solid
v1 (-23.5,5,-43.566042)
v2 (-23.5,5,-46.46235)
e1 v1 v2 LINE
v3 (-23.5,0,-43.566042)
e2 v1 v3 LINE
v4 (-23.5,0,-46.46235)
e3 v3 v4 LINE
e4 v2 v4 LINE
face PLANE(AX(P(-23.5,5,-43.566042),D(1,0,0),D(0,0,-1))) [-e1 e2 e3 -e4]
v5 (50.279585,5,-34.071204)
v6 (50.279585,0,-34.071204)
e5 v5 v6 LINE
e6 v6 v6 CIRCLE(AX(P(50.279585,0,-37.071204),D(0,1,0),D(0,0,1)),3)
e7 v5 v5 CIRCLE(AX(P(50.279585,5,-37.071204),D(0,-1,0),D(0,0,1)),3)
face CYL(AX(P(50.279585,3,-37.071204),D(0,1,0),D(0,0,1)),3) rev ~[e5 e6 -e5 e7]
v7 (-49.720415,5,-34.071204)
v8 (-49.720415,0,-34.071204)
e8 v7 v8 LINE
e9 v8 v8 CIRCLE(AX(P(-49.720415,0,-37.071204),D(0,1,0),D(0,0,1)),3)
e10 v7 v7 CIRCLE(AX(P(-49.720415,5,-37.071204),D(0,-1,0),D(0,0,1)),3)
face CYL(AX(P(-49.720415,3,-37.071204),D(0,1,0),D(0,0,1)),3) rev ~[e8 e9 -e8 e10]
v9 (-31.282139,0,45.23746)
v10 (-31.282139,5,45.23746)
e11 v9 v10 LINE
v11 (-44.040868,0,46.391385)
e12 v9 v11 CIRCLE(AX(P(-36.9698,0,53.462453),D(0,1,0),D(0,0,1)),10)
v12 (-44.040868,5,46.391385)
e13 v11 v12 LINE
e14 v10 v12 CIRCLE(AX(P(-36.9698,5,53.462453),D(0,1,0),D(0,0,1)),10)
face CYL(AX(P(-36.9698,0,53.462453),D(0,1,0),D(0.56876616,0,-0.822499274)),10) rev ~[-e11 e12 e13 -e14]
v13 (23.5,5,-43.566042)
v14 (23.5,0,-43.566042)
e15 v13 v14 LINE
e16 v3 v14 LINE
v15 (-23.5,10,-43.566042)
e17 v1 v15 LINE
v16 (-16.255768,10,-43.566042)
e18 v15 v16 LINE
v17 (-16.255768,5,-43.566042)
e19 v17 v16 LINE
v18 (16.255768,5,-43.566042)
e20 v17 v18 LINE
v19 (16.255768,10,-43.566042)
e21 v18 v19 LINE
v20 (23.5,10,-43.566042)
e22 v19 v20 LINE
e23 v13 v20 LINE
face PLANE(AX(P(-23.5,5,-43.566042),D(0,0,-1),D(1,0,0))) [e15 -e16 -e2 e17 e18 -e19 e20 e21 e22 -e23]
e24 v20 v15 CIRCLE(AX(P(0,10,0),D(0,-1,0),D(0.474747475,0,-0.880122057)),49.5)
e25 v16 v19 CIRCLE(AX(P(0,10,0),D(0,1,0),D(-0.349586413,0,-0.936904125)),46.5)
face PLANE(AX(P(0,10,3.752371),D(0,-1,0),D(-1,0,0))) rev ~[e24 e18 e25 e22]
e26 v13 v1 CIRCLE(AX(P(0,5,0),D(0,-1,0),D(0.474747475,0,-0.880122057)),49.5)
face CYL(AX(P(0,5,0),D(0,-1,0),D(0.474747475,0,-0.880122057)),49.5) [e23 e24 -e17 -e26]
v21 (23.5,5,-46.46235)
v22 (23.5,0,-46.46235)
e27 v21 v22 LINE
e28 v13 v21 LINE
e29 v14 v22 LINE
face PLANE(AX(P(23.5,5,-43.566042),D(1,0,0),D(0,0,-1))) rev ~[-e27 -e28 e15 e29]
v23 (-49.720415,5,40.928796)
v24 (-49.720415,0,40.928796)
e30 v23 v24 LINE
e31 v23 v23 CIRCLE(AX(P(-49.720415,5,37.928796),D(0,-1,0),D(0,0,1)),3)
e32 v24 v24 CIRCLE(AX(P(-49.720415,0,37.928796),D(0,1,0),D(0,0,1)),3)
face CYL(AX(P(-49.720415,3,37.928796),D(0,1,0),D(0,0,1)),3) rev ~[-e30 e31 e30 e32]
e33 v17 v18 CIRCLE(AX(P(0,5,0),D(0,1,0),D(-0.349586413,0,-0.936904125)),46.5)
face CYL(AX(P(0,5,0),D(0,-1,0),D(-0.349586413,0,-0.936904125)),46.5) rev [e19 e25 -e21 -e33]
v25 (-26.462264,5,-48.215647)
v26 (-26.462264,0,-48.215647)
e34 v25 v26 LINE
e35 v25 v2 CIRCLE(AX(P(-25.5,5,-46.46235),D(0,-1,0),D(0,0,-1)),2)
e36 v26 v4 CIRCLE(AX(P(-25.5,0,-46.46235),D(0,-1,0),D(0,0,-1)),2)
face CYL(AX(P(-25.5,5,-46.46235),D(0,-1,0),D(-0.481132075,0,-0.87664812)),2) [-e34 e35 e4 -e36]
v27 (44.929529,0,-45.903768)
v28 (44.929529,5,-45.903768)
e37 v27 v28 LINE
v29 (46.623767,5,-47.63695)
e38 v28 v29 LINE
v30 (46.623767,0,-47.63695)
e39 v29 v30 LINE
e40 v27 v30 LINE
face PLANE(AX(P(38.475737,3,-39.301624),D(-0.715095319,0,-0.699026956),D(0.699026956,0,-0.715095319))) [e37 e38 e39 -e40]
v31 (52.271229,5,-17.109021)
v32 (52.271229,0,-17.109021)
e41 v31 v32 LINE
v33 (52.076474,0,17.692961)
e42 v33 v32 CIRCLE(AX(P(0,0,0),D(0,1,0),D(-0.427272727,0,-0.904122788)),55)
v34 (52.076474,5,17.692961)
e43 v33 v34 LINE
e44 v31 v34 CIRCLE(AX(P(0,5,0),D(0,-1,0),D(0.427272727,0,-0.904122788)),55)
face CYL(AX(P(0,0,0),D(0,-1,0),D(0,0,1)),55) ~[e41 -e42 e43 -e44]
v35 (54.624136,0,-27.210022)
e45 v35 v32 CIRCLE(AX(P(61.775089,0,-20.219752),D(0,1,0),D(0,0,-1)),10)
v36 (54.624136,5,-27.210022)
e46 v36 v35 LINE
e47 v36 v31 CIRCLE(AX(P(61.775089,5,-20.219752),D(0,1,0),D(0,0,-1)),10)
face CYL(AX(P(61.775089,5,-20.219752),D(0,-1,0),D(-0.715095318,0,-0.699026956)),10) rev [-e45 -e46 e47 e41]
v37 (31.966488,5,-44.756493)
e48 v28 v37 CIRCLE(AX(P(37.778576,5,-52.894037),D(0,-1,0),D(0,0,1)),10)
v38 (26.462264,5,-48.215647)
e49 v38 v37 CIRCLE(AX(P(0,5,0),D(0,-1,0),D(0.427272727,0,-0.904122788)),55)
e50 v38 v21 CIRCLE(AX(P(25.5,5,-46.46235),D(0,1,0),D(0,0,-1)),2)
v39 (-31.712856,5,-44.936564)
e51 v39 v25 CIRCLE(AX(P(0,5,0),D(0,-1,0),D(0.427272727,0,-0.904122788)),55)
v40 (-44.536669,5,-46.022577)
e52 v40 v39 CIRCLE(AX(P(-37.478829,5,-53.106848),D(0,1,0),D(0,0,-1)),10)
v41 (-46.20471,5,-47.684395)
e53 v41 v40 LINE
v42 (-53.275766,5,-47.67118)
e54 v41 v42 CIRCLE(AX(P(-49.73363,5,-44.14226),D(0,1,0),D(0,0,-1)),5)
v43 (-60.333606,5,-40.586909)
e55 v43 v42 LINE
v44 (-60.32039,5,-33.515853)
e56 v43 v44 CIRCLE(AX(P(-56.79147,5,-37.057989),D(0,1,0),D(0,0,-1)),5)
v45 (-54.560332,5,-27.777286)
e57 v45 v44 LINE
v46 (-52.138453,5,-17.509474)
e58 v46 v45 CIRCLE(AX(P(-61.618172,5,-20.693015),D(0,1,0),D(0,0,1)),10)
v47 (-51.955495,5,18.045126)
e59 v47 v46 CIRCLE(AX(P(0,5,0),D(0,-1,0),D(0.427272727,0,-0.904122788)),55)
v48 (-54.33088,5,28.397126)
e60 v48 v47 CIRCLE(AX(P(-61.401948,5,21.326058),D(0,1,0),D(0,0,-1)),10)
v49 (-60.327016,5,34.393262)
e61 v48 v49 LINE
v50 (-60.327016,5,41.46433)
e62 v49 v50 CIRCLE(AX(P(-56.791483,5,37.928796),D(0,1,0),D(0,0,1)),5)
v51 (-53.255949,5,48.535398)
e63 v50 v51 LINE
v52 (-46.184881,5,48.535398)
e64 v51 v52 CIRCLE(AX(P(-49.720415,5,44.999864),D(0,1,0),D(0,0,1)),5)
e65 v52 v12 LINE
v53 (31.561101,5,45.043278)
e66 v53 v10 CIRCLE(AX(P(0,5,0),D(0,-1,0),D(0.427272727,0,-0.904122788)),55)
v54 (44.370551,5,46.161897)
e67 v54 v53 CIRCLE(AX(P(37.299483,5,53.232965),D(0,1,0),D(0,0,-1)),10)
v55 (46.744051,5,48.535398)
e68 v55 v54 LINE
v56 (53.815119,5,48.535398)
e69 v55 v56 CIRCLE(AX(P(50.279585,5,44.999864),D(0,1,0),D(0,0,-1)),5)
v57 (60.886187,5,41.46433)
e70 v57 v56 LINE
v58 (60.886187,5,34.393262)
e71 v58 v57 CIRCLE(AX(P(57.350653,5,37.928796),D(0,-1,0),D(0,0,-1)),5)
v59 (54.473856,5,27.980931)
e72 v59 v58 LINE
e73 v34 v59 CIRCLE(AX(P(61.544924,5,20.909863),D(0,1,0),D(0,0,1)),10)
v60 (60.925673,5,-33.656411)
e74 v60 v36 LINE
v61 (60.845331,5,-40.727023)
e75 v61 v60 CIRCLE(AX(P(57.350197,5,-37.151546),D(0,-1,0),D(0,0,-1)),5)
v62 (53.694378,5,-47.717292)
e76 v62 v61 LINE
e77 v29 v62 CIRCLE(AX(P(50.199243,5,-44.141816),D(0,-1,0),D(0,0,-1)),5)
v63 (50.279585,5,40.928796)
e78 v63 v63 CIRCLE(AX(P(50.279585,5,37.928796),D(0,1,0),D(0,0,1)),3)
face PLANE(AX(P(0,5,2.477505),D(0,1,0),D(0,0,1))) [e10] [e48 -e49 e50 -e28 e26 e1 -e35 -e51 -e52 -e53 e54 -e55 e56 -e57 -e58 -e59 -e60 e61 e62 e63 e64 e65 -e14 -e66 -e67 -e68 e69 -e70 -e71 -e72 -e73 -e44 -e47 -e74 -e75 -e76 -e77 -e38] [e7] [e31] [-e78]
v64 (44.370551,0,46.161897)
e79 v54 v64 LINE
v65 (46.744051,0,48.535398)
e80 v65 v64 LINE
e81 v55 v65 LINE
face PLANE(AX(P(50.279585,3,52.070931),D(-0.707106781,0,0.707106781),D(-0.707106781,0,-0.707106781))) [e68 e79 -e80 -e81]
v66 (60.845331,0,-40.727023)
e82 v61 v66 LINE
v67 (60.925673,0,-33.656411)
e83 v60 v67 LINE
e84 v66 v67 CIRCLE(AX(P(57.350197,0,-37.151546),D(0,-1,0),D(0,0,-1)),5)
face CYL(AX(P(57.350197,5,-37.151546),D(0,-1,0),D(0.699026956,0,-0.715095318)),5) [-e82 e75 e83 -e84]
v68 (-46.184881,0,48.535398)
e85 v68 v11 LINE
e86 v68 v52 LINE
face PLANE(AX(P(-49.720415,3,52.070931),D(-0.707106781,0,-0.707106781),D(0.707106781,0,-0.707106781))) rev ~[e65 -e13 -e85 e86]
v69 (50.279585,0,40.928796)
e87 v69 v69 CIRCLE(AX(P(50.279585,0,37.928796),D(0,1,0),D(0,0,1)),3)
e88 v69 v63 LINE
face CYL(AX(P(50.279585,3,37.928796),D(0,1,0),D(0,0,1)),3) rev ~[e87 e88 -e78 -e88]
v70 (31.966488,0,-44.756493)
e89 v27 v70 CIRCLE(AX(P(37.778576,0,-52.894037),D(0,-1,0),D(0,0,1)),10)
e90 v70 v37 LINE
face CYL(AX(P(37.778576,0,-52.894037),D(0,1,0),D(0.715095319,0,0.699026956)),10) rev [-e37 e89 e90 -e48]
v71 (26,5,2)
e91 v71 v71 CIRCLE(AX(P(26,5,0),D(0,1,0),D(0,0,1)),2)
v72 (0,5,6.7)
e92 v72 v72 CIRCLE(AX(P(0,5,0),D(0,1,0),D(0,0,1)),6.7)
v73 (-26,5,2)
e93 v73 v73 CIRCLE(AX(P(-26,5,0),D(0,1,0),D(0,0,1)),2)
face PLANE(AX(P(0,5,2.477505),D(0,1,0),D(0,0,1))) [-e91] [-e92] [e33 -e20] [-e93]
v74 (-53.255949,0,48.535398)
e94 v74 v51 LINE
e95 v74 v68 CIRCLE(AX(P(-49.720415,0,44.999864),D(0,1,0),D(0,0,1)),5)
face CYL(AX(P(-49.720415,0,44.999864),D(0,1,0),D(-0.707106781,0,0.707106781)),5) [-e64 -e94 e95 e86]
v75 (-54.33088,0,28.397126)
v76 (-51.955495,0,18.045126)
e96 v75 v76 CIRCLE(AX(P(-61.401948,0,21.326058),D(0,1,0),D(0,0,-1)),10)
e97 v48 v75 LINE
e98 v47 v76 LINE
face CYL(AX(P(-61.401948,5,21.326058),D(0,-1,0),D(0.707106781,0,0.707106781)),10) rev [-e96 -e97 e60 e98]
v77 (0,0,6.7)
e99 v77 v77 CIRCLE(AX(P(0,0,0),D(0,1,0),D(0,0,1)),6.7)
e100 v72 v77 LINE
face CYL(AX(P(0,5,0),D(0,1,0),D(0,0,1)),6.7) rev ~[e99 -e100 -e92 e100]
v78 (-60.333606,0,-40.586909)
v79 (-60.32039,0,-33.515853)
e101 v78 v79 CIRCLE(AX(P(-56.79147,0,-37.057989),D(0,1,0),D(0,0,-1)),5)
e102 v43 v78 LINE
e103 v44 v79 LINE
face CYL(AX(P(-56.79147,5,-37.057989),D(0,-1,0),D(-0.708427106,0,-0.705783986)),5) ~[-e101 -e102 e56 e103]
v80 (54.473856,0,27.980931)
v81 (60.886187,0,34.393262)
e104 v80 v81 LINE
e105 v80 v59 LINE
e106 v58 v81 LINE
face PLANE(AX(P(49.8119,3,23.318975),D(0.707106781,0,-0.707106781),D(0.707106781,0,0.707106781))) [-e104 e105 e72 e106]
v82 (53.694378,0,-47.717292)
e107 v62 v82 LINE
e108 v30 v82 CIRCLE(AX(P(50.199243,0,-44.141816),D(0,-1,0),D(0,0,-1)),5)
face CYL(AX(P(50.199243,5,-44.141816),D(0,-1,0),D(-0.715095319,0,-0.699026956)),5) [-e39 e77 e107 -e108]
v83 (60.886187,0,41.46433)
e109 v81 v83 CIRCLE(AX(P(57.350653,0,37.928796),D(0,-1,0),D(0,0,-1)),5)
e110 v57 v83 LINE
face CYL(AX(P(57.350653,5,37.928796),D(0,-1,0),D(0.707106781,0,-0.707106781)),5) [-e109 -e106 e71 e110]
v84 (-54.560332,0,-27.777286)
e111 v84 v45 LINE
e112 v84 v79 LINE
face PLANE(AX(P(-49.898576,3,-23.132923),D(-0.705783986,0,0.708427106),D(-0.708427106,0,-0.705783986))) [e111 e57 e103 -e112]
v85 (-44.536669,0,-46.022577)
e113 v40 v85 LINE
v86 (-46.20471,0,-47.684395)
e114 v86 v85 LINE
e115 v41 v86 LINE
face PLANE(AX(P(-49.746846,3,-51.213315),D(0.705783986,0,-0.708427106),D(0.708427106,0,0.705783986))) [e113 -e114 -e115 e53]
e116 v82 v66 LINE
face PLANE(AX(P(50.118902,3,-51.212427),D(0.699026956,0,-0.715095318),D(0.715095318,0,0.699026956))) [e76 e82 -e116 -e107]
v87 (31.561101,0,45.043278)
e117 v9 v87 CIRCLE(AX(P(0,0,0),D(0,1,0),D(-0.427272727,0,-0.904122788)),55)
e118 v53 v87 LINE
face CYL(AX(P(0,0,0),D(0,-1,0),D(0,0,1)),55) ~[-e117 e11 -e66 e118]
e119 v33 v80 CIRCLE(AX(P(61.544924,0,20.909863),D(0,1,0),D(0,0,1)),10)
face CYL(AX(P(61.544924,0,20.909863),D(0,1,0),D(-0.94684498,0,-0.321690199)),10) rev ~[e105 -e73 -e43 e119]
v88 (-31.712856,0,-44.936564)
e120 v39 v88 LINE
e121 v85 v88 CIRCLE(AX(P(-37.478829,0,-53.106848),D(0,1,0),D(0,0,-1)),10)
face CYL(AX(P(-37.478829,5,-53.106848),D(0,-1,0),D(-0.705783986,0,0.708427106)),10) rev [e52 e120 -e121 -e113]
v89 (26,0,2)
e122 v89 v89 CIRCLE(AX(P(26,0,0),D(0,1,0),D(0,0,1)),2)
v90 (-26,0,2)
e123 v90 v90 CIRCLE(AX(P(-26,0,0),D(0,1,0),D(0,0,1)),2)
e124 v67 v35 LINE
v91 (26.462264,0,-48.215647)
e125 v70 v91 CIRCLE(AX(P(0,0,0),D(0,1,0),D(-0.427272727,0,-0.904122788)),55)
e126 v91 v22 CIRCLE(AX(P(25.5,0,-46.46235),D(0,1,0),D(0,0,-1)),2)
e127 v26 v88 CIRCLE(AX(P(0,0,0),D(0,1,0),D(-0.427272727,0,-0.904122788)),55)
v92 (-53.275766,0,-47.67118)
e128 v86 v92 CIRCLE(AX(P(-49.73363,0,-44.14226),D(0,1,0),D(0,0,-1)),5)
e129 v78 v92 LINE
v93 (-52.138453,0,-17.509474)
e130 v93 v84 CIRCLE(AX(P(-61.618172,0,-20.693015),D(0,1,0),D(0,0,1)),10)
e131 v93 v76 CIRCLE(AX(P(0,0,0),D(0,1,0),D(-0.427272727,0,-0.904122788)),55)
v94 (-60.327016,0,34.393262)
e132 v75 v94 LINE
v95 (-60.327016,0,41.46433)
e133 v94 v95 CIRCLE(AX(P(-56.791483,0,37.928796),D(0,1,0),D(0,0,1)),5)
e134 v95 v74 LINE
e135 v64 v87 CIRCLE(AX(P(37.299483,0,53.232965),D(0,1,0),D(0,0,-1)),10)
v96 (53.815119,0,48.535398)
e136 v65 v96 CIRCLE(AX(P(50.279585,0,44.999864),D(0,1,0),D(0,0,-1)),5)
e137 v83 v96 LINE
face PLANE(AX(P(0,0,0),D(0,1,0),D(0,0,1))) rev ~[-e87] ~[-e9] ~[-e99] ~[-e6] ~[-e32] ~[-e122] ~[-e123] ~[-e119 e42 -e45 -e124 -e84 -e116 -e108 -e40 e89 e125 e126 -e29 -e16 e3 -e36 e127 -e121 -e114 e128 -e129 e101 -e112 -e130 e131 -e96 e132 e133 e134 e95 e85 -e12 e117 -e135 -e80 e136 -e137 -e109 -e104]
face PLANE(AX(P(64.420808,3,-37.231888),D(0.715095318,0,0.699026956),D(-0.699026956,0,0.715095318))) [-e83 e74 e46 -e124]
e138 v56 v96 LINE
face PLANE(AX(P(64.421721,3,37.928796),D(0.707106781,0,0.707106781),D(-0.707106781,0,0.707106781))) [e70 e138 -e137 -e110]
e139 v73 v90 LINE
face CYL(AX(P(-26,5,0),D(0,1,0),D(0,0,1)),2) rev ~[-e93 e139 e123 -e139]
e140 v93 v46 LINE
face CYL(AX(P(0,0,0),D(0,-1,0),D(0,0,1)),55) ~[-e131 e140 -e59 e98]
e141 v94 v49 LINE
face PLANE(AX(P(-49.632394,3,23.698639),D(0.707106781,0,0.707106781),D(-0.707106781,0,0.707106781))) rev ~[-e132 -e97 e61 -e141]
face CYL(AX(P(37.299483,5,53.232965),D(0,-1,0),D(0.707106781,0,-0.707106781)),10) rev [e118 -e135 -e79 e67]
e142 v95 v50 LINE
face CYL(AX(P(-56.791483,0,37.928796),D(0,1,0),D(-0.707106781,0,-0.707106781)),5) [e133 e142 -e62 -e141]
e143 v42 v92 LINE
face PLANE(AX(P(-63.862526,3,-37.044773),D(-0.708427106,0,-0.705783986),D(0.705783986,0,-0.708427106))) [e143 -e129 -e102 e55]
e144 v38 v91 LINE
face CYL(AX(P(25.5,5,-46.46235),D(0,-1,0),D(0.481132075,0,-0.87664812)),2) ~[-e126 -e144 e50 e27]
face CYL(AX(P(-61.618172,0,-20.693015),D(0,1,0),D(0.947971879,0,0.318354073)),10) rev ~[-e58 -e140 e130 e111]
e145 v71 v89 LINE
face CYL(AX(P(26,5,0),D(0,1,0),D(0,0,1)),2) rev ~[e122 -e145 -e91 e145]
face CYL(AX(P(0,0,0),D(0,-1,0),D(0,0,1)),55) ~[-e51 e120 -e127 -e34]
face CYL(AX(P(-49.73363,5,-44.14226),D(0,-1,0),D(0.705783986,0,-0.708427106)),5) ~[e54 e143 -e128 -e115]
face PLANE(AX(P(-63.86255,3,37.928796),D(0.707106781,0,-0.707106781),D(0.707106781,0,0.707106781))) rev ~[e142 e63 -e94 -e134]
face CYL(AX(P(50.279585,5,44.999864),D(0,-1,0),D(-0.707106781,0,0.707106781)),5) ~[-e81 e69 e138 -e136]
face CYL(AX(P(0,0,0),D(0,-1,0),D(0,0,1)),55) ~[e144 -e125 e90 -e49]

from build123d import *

# Parameters (mm, degrees)
SKETCH_1_R                  = 55
EXTRUDE_1_DEPTH             = 5
SKETCH_5_W                  = 47
SKETCH_5_H                  = 12.24289715
CUT_EXTRUDE_2_DEPTH         = 30
FILLET_4_R                  = 2
FILLET_5_R                  = 2
EXTRUDE_3_REACH             = 79.84
EXTRUDE_3_DIRECTION_2_REACH = 79.84
FILLET_7_R                  = 10
FILLET_8_R                  = 5
SKETCH_10_R                 = 3
CUT_EXTRUDE_5_DEPTH         = 5
SKETCH_15_R                 = 6.7
CUT_EXTRUDE_6_DEPTH         = 10
SKETCH_16_R                 = 2
CUT_EXTRUDE_7_DEPTH         = 10
EXTRUDE_4_DEPTH             = 5


with BuildPart() as part:
    # 草图1 → 凸台-拉伸1 (new body)
    with BuildSketch(Plane(origin=(0, 0, 0), x_dir=(1, 0, 0), z_dir=(0, 1, 0))):
        with Locations(Location((0, 0, 0), (0, 0, 270))):
            Circle(SKETCH_1_R)
    extrude(amount=EXTRUDE_1_DEPTH)

    # 草图5 → 切除-拉伸2 (cut)
    with BuildSketch(Plane(origin=(0, 5, 0), x_dir=(1, 0, 0), z_dir=(0, 1, 0))):
        with Locations((0, 49.687490397)):
            Rectangle(SKETCH_5_W, SKETCH_5_H)
    extrude(amount=-CUT_EXTRUDE_2_DEPTH, mode=Mode.SUBTRACT)

    # 圆角4
    fillet_4_edges = [part.edges().sort_by_distance(p)[0] for p in [
        (-23.5, 2.5, -49.726753363),
    ]]
    fillet(fillet_4_edges, radius=FILLET_4_R)

    # 圆角5
    fillet_5_edges = [part.edges().sort_by_distance(p)[0] for p in [
        (23.5, 2.5, -49.726753363),
    ]]
    fillet(fillet_5_edges, radius=FILLET_5_R)

    # 凸台-拉伸3: up to this face of the body (flat: up to its plane)
    extrude_3_end = Plane(part.part.faces().sort_by_distance((0, 0, 2.477505486))[0])
    # 草图14 → 凸台-拉伸3 (add, up to the picked face)
    with BuildSketch(Plane(origin=(0, 3, 0), x_dir=(1, 0, 0), z_dir=(0, 1, 0)), mode=Mode.PRIVATE) as extrude_3_sk1:
        with BuildLine():
            Line((-49.898576095, 23.132922507), (-63.862525635, 37.044772973))
            Line((-63.862525635, 37.044772973), (-49.746845912, 51.213315099))
            Line((-49.746845912, 51.213315099), (-38.128637352, 39.638453724))
            ThreePointArc((-38.128637352, 39.638453724), (-44.78063998, 31.932652301), (-49.898576095, 23.132922507))
        make_face()
    extrude_3_tool1 = split(extrude(extrude_3_sk1.sketch, amount=-EXTRUDE_3_REACH, mode=Mode.PRIVATE), bisect_by=extrude_3_end, keep=Keep.BOTH, mode=Mode.PRIVATE)
    # 草图14 → 凸台-拉伸3 (add, up to the picked face)
    with BuildSketch(Plane(origin=(0, 3, 0), x_dir=(1, 0, 0), z_dir=(0, 1, 0)), mode=Mode.PRIVATE) as extrude_3_sk2:
        with BuildLine():
            Line((49.811900188, -23.3189751), (64.421720913, -37.928795825))
            Line((64.421720913, -37.928795825), (50.279585289, -52.070931449))
            Line((50.279585289, -52.070931449), (37.984884655, -39.776230814))
            ThreePointArc((37.984884655, -39.776230814), (44.662950793, -32.097053236), (49.811900188, -23.3189751))
        make_face()
    extrude_3_tool2 = split(extrude(extrude_3_sk2.sketch, amount=-EXTRUDE_3_REACH, mode=Mode.PRIVATE), bisect_by=extrude_3_end, keep=Keep.BOTH, mode=Mode.PRIVATE)
    # 草图14 → 凸台-拉伸3 (add, up to the picked face)
    with BuildSketch(Plane(origin=(0, 3, 0), x_dir=(1, 0, 0), z_dir=(0, 1, 0)), mode=Mode.PRIVATE) as extrude_3_sk3:
        with BuildLine():
            Line((-49.632393674, -23.698639164), (-63.862550335, -37.928795825))
            Line((-63.862550335, -37.928795825), (-49.720414711, -52.070931449))
            Line((-49.720414711, -52.070931449), (-37.697852746, -40.048369484))
            ThreePointArc((-37.697852746, -40.048369484), (-44.423770724, -32.427281642), (-49.632393674, -23.698639164))
        make_face()
    extrude_3_tool3 = split(extrude(extrude_3_sk3.sketch, amount=-EXTRUDE_3_REACH, mode=Mode.PRIVATE), bisect_by=extrude_3_end, keep=Keep.BOTH, mode=Mode.PRIVATE)
    # 草图14 → 凸台-拉伸3 (add, up to the picked face)
    with BuildSketch(Plane(origin=(0, 3, 0), x_dir=(1, 0, 0), z_dir=(0, 1, 0)), mode=Mode.PRIVATE) as extrude_3_sk4:
        with BuildLine():
            Line((38.475737251, 39.301623923), (50.118901666, 51.212426922))
            Line((50.118901666, 51.212426922), (64.420808036, 37.231887798))
            Line((64.420808036, 37.231887798), (50.134465219, 22.6171483))
            ThreePointArc((50.134465219, 22.6171483), (45.083643676, 31.50341367), (38.475737251, 39.301623923))
        make_face()
    extrude_3_tool4 = split(extrude(extrude_3_sk4.sketch, amount=-EXTRUDE_3_REACH, mode=Mode.PRIVATE), bisect_by=extrude_3_end, keep=Keep.BOTH, mode=Mode.PRIVATE)
    add(extrude_3_tool1.solids().sort_by(Axis((-50.837096, 3, -37.73966), (0, -1, 0)))[0])
    add(extrude_3_tool2.solids().sort_by(Axis((51.039653, 3, 38.272151), (0, -1, 0)))[0])
    add(extrude_3_tool3.solids().sort_by(Axis((-50.639154, 3, 38.439997), (0, -1, 0)))[0])
    add(extrude_3_tool4.solids().sort_by(Axis((51.238479, 3, -37.552164), (0, -1, 0)))[0])

    # 凸台-拉伸3 direction 2: up to this face of the body (flat: up to its plane)
    extrude_3_direction_2_end = Plane(part.part.faces().sort_by_distance((0, 5, 2.477505486))[0])
    # 草图14 → 凸台-拉伸3 direction 2 (add, up to the picked face)
    with BuildSketch(Plane(origin=(0, 3, 0), x_dir=(1, 0, 0), z_dir=(0, 1, 0)), mode=Mode.PRIVATE) as extrude_3_direction_2_sk1:
        with BuildLine():
            Line((-49.898576095, 23.132922507), (-63.862525635, 37.044772973))
            Line((-63.862525635, 37.044772973), (-49.746845912, 51.213315099))
            Line((-49.746845912, 51.213315099), (-38.128637352, 39.638453724))
            ThreePointArc((-38.128637352, 39.638453724), (-44.78063998, 31.932652301), (-49.898576095, 23.132922507))
        make_face()
    extrude_3_direction_2_tool1 = split(extrude(extrude_3_direction_2_sk1.sketch, amount=EXTRUDE_3_DIRECTION_2_REACH, mode=Mode.PRIVATE), bisect_by=extrude_3_direction_2_end, keep=Keep.BOTH, mode=Mode.PRIVATE)
    # 草图14 → 凸台-拉伸3 direction 2 (add, up to the picked face)
    with BuildSketch(Plane(origin=(0, 3, 0), x_dir=(1, 0, 0), z_dir=(0, 1, 0)), mode=Mode.PRIVATE) as extrude_3_direction_2_sk2:
        with BuildLine():
            Line((49.811900188, -23.3189751), (64.421720913, -37.928795825))
            Line((64.421720913, -37.928795825), (50.279585289, -52.070931449))
            Line((50.279585289, -52.070931449), (37.984884655, -39.776230814))
            ThreePointArc((37.984884655, -39.776230814), (44.662950793, -32.097053236), (49.811900188, -23.3189751))
        make_face()
    extrude_3_direction_2_tool2 = split(extrude(extrude_3_direction_2_sk2.sketch, amount=EXTRUDE_3_DIRECTION_2_REACH, mode=Mode.PRIVATE), bisect_by=extrude_3_direction_2_end, keep=Keep.BOTH, mode=Mode.PRIVATE)
    # 草图14 → 凸台-拉伸3 direction 2 (add, up to the picked face)
    with BuildSketch(Plane(origin=(0, 3, 0), x_dir=(1, 0, 0), z_dir=(0, 1, 0)), mode=Mode.PRIVATE) as extrude_3_direction_2_sk3:
        with BuildLine():
            Line((-49.632393674, -23.698639164), (-63.862550335, -37.928795825))
            Line((-63.862550335, -37.928795825), (-49.720414711, -52.070931449))
            Line((-49.720414711, -52.070931449), (-37.697852746, -40.048369484))
            ThreePointArc((-37.697852746, -40.048369484), (-44.423770724, -32.427281642), (-49.632393674, -23.698639164))
        make_face()
    extrude_3_direction_2_tool3 = split(extrude(extrude_3_direction_2_sk3.sketch, amount=EXTRUDE_3_DIRECTION_2_REACH, mode=Mode.PRIVATE), bisect_by=extrude_3_direction_2_end, keep=Keep.BOTH, mode=Mode.PRIVATE)
    # 草图14 → 凸台-拉伸3 direction 2 (add, up to the picked face)
    with BuildSketch(Plane(origin=(0, 3, 0), x_dir=(1, 0, 0), z_dir=(0, 1, 0)), mode=Mode.PRIVATE) as extrude_3_direction_2_sk4:
        with BuildLine():
            Line((38.475737251, 39.301623923), (50.118901666, 51.212426922))
            Line((50.118901666, 51.212426922), (64.420808036, 37.231887798))
            Line((64.420808036, 37.231887798), (50.134465219, 22.6171483))
            ThreePointArc((50.134465219, 22.6171483), (45.083643676, 31.50341367), (38.475737251, 39.301623923))
        make_face()
    extrude_3_direction_2_tool4 = split(extrude(extrude_3_direction_2_sk4.sketch, amount=EXTRUDE_3_DIRECTION_2_REACH, mode=Mode.PRIVATE), bisect_by=extrude_3_direction_2_end, keep=Keep.BOTH, mode=Mode.PRIVATE)
    add(extrude_3_direction_2_tool1.solids().sort_by(Axis((-50.837096, 3, -37.73966), (0, 1, 0)))[0])
    add(extrude_3_direction_2_tool2.solids().sort_by(Axis((51.039653, 3, 38.272151), (0, 1, 0)))[0])
    add(extrude_3_direction_2_tool3.solids().sort_by(Axis((-50.639154, 3, 38.439997), (0, 1, 0)))[0])
    add(extrude_3_direction_2_tool4.solids().sort_by(Axis((51.238479, 3, -37.552164), (0, 1, 0)))[0])

    # 圆角7
    fillet_7_edges = [part.edges().sort_by_distance(p)[0] for p in [
        (-38.128637352, 2.5, -39.638453724),
        (-49.898576095, 2.5, -23.132922507),
        (-49.632393674, 2.5, 23.698639164),
        (-37.697852746, 2.5, 40.048369484),
        (50.134465219, 2.5, -22.6171483),
        (38.475737251, 2.5, -39.301623923),
        (37.984884655, 2.5, 39.776230814),
        (49.811900188, 2.5, 23.3189751),
    ]]
    fillet(fillet_7_edges, radius=FILLET_7_R)

    # 圆角8
    fillet_8_edges = [part.edges().sort_by_distance(p)[0] for p in [
        (-63.862525635, 2.5, -37.044772973),
        (-49.746845912, 2.5, -51.213315099),
        (-49.720414711, 2.5, 52.070931449),
        (-63.862550335, 2.5, 37.928795825),
        (50.118901666, 2.5, -51.212426922),
        (64.420808036, 2.5, -37.231887798),
        (50.279585289, 2.5, 52.070931449),
        (64.421720913, 2.5, 37.928795825),
    ]]
    fillet(fillet_8_edges, radius=FILLET_8_R)

    # 草图10 → 切除-拉伸5 (cut, symmetric)
    with BuildSketch(Plane(origin=(0, 3, 0), x_dir=(1, 0, 0), z_dir=(0, 1, 0))):
        with Locations(Location((-49.720414711, 37.071204175, 0), (0, 0, 270))):
            Circle(SKETCH_10_R)
        with Locations(Location((50.279585289, 37.071204175, 0), (0, 0, 270))):
            Circle(SKETCH_10_R)
        with Locations(Location((-49.720414711, -37.928795825, 0), (0, 0, 270))):
            Circle(SKETCH_10_R)
        with Locations(Location((50.279585289, -37.928795825, 0), (0, 0, 270))):
            Circle(SKETCH_10_R)
    extrude(amount=CUT_EXTRUDE_5_DEPTH, both=True, mode=Mode.SUBTRACT)

    # 草图15 → 切除-拉伸6 (cut)
    with BuildSketch(Plane(origin=(0, 5, 0), x_dir=(1, 0, 0), z_dir=(0, 1, 0))):
        with Locations(Location((0, 0, 0), (0, 0, 270))):
            Circle(SKETCH_15_R)
    extrude(amount=-CUT_EXTRUDE_6_DEPTH, mode=Mode.SUBTRACT)

    # 草图16 → 切除-拉伸7 (cut)
    with BuildSketch(Plane(origin=(0, 5, 0), x_dir=(1, 0, 0), z_dir=(0, 1, 0))):
        with Locations(Location((-26, 0, 0), (0, 0, 270))):
            Circle(SKETCH_16_R)
        with Locations(Location((26, 0, 0), (0, 0, 270))):
            Circle(SKETCH_16_R)
    extrude(amount=-CUT_EXTRUDE_7_DEPTH, mode=Mode.SUBTRACT)

    # 草图17 → 凸台-拉伸4 (add)
    with BuildSketch(Plane(origin=(0, 5, 0), x_dir=(1, 0, 0), z_dir=(0, 1, 0))):
        with BuildLine():
            Line((-23.5, 43.566041822), (-16.255768207, 43.566041822))
            ThreePointArc((-16.255768207, 43.566041822), (0, -46.5), (16.255768207, 43.566041822))
            Line((16.255768207, 43.566041822), (23.5, 43.566041822))
            ThreePointArc((23.5, 43.566041822), (0, -49.5), (-23.5, 43.566041822))
        make_face()
    extrude(amount=EXTRUDE_4_DEPTH)


solid = part.part
